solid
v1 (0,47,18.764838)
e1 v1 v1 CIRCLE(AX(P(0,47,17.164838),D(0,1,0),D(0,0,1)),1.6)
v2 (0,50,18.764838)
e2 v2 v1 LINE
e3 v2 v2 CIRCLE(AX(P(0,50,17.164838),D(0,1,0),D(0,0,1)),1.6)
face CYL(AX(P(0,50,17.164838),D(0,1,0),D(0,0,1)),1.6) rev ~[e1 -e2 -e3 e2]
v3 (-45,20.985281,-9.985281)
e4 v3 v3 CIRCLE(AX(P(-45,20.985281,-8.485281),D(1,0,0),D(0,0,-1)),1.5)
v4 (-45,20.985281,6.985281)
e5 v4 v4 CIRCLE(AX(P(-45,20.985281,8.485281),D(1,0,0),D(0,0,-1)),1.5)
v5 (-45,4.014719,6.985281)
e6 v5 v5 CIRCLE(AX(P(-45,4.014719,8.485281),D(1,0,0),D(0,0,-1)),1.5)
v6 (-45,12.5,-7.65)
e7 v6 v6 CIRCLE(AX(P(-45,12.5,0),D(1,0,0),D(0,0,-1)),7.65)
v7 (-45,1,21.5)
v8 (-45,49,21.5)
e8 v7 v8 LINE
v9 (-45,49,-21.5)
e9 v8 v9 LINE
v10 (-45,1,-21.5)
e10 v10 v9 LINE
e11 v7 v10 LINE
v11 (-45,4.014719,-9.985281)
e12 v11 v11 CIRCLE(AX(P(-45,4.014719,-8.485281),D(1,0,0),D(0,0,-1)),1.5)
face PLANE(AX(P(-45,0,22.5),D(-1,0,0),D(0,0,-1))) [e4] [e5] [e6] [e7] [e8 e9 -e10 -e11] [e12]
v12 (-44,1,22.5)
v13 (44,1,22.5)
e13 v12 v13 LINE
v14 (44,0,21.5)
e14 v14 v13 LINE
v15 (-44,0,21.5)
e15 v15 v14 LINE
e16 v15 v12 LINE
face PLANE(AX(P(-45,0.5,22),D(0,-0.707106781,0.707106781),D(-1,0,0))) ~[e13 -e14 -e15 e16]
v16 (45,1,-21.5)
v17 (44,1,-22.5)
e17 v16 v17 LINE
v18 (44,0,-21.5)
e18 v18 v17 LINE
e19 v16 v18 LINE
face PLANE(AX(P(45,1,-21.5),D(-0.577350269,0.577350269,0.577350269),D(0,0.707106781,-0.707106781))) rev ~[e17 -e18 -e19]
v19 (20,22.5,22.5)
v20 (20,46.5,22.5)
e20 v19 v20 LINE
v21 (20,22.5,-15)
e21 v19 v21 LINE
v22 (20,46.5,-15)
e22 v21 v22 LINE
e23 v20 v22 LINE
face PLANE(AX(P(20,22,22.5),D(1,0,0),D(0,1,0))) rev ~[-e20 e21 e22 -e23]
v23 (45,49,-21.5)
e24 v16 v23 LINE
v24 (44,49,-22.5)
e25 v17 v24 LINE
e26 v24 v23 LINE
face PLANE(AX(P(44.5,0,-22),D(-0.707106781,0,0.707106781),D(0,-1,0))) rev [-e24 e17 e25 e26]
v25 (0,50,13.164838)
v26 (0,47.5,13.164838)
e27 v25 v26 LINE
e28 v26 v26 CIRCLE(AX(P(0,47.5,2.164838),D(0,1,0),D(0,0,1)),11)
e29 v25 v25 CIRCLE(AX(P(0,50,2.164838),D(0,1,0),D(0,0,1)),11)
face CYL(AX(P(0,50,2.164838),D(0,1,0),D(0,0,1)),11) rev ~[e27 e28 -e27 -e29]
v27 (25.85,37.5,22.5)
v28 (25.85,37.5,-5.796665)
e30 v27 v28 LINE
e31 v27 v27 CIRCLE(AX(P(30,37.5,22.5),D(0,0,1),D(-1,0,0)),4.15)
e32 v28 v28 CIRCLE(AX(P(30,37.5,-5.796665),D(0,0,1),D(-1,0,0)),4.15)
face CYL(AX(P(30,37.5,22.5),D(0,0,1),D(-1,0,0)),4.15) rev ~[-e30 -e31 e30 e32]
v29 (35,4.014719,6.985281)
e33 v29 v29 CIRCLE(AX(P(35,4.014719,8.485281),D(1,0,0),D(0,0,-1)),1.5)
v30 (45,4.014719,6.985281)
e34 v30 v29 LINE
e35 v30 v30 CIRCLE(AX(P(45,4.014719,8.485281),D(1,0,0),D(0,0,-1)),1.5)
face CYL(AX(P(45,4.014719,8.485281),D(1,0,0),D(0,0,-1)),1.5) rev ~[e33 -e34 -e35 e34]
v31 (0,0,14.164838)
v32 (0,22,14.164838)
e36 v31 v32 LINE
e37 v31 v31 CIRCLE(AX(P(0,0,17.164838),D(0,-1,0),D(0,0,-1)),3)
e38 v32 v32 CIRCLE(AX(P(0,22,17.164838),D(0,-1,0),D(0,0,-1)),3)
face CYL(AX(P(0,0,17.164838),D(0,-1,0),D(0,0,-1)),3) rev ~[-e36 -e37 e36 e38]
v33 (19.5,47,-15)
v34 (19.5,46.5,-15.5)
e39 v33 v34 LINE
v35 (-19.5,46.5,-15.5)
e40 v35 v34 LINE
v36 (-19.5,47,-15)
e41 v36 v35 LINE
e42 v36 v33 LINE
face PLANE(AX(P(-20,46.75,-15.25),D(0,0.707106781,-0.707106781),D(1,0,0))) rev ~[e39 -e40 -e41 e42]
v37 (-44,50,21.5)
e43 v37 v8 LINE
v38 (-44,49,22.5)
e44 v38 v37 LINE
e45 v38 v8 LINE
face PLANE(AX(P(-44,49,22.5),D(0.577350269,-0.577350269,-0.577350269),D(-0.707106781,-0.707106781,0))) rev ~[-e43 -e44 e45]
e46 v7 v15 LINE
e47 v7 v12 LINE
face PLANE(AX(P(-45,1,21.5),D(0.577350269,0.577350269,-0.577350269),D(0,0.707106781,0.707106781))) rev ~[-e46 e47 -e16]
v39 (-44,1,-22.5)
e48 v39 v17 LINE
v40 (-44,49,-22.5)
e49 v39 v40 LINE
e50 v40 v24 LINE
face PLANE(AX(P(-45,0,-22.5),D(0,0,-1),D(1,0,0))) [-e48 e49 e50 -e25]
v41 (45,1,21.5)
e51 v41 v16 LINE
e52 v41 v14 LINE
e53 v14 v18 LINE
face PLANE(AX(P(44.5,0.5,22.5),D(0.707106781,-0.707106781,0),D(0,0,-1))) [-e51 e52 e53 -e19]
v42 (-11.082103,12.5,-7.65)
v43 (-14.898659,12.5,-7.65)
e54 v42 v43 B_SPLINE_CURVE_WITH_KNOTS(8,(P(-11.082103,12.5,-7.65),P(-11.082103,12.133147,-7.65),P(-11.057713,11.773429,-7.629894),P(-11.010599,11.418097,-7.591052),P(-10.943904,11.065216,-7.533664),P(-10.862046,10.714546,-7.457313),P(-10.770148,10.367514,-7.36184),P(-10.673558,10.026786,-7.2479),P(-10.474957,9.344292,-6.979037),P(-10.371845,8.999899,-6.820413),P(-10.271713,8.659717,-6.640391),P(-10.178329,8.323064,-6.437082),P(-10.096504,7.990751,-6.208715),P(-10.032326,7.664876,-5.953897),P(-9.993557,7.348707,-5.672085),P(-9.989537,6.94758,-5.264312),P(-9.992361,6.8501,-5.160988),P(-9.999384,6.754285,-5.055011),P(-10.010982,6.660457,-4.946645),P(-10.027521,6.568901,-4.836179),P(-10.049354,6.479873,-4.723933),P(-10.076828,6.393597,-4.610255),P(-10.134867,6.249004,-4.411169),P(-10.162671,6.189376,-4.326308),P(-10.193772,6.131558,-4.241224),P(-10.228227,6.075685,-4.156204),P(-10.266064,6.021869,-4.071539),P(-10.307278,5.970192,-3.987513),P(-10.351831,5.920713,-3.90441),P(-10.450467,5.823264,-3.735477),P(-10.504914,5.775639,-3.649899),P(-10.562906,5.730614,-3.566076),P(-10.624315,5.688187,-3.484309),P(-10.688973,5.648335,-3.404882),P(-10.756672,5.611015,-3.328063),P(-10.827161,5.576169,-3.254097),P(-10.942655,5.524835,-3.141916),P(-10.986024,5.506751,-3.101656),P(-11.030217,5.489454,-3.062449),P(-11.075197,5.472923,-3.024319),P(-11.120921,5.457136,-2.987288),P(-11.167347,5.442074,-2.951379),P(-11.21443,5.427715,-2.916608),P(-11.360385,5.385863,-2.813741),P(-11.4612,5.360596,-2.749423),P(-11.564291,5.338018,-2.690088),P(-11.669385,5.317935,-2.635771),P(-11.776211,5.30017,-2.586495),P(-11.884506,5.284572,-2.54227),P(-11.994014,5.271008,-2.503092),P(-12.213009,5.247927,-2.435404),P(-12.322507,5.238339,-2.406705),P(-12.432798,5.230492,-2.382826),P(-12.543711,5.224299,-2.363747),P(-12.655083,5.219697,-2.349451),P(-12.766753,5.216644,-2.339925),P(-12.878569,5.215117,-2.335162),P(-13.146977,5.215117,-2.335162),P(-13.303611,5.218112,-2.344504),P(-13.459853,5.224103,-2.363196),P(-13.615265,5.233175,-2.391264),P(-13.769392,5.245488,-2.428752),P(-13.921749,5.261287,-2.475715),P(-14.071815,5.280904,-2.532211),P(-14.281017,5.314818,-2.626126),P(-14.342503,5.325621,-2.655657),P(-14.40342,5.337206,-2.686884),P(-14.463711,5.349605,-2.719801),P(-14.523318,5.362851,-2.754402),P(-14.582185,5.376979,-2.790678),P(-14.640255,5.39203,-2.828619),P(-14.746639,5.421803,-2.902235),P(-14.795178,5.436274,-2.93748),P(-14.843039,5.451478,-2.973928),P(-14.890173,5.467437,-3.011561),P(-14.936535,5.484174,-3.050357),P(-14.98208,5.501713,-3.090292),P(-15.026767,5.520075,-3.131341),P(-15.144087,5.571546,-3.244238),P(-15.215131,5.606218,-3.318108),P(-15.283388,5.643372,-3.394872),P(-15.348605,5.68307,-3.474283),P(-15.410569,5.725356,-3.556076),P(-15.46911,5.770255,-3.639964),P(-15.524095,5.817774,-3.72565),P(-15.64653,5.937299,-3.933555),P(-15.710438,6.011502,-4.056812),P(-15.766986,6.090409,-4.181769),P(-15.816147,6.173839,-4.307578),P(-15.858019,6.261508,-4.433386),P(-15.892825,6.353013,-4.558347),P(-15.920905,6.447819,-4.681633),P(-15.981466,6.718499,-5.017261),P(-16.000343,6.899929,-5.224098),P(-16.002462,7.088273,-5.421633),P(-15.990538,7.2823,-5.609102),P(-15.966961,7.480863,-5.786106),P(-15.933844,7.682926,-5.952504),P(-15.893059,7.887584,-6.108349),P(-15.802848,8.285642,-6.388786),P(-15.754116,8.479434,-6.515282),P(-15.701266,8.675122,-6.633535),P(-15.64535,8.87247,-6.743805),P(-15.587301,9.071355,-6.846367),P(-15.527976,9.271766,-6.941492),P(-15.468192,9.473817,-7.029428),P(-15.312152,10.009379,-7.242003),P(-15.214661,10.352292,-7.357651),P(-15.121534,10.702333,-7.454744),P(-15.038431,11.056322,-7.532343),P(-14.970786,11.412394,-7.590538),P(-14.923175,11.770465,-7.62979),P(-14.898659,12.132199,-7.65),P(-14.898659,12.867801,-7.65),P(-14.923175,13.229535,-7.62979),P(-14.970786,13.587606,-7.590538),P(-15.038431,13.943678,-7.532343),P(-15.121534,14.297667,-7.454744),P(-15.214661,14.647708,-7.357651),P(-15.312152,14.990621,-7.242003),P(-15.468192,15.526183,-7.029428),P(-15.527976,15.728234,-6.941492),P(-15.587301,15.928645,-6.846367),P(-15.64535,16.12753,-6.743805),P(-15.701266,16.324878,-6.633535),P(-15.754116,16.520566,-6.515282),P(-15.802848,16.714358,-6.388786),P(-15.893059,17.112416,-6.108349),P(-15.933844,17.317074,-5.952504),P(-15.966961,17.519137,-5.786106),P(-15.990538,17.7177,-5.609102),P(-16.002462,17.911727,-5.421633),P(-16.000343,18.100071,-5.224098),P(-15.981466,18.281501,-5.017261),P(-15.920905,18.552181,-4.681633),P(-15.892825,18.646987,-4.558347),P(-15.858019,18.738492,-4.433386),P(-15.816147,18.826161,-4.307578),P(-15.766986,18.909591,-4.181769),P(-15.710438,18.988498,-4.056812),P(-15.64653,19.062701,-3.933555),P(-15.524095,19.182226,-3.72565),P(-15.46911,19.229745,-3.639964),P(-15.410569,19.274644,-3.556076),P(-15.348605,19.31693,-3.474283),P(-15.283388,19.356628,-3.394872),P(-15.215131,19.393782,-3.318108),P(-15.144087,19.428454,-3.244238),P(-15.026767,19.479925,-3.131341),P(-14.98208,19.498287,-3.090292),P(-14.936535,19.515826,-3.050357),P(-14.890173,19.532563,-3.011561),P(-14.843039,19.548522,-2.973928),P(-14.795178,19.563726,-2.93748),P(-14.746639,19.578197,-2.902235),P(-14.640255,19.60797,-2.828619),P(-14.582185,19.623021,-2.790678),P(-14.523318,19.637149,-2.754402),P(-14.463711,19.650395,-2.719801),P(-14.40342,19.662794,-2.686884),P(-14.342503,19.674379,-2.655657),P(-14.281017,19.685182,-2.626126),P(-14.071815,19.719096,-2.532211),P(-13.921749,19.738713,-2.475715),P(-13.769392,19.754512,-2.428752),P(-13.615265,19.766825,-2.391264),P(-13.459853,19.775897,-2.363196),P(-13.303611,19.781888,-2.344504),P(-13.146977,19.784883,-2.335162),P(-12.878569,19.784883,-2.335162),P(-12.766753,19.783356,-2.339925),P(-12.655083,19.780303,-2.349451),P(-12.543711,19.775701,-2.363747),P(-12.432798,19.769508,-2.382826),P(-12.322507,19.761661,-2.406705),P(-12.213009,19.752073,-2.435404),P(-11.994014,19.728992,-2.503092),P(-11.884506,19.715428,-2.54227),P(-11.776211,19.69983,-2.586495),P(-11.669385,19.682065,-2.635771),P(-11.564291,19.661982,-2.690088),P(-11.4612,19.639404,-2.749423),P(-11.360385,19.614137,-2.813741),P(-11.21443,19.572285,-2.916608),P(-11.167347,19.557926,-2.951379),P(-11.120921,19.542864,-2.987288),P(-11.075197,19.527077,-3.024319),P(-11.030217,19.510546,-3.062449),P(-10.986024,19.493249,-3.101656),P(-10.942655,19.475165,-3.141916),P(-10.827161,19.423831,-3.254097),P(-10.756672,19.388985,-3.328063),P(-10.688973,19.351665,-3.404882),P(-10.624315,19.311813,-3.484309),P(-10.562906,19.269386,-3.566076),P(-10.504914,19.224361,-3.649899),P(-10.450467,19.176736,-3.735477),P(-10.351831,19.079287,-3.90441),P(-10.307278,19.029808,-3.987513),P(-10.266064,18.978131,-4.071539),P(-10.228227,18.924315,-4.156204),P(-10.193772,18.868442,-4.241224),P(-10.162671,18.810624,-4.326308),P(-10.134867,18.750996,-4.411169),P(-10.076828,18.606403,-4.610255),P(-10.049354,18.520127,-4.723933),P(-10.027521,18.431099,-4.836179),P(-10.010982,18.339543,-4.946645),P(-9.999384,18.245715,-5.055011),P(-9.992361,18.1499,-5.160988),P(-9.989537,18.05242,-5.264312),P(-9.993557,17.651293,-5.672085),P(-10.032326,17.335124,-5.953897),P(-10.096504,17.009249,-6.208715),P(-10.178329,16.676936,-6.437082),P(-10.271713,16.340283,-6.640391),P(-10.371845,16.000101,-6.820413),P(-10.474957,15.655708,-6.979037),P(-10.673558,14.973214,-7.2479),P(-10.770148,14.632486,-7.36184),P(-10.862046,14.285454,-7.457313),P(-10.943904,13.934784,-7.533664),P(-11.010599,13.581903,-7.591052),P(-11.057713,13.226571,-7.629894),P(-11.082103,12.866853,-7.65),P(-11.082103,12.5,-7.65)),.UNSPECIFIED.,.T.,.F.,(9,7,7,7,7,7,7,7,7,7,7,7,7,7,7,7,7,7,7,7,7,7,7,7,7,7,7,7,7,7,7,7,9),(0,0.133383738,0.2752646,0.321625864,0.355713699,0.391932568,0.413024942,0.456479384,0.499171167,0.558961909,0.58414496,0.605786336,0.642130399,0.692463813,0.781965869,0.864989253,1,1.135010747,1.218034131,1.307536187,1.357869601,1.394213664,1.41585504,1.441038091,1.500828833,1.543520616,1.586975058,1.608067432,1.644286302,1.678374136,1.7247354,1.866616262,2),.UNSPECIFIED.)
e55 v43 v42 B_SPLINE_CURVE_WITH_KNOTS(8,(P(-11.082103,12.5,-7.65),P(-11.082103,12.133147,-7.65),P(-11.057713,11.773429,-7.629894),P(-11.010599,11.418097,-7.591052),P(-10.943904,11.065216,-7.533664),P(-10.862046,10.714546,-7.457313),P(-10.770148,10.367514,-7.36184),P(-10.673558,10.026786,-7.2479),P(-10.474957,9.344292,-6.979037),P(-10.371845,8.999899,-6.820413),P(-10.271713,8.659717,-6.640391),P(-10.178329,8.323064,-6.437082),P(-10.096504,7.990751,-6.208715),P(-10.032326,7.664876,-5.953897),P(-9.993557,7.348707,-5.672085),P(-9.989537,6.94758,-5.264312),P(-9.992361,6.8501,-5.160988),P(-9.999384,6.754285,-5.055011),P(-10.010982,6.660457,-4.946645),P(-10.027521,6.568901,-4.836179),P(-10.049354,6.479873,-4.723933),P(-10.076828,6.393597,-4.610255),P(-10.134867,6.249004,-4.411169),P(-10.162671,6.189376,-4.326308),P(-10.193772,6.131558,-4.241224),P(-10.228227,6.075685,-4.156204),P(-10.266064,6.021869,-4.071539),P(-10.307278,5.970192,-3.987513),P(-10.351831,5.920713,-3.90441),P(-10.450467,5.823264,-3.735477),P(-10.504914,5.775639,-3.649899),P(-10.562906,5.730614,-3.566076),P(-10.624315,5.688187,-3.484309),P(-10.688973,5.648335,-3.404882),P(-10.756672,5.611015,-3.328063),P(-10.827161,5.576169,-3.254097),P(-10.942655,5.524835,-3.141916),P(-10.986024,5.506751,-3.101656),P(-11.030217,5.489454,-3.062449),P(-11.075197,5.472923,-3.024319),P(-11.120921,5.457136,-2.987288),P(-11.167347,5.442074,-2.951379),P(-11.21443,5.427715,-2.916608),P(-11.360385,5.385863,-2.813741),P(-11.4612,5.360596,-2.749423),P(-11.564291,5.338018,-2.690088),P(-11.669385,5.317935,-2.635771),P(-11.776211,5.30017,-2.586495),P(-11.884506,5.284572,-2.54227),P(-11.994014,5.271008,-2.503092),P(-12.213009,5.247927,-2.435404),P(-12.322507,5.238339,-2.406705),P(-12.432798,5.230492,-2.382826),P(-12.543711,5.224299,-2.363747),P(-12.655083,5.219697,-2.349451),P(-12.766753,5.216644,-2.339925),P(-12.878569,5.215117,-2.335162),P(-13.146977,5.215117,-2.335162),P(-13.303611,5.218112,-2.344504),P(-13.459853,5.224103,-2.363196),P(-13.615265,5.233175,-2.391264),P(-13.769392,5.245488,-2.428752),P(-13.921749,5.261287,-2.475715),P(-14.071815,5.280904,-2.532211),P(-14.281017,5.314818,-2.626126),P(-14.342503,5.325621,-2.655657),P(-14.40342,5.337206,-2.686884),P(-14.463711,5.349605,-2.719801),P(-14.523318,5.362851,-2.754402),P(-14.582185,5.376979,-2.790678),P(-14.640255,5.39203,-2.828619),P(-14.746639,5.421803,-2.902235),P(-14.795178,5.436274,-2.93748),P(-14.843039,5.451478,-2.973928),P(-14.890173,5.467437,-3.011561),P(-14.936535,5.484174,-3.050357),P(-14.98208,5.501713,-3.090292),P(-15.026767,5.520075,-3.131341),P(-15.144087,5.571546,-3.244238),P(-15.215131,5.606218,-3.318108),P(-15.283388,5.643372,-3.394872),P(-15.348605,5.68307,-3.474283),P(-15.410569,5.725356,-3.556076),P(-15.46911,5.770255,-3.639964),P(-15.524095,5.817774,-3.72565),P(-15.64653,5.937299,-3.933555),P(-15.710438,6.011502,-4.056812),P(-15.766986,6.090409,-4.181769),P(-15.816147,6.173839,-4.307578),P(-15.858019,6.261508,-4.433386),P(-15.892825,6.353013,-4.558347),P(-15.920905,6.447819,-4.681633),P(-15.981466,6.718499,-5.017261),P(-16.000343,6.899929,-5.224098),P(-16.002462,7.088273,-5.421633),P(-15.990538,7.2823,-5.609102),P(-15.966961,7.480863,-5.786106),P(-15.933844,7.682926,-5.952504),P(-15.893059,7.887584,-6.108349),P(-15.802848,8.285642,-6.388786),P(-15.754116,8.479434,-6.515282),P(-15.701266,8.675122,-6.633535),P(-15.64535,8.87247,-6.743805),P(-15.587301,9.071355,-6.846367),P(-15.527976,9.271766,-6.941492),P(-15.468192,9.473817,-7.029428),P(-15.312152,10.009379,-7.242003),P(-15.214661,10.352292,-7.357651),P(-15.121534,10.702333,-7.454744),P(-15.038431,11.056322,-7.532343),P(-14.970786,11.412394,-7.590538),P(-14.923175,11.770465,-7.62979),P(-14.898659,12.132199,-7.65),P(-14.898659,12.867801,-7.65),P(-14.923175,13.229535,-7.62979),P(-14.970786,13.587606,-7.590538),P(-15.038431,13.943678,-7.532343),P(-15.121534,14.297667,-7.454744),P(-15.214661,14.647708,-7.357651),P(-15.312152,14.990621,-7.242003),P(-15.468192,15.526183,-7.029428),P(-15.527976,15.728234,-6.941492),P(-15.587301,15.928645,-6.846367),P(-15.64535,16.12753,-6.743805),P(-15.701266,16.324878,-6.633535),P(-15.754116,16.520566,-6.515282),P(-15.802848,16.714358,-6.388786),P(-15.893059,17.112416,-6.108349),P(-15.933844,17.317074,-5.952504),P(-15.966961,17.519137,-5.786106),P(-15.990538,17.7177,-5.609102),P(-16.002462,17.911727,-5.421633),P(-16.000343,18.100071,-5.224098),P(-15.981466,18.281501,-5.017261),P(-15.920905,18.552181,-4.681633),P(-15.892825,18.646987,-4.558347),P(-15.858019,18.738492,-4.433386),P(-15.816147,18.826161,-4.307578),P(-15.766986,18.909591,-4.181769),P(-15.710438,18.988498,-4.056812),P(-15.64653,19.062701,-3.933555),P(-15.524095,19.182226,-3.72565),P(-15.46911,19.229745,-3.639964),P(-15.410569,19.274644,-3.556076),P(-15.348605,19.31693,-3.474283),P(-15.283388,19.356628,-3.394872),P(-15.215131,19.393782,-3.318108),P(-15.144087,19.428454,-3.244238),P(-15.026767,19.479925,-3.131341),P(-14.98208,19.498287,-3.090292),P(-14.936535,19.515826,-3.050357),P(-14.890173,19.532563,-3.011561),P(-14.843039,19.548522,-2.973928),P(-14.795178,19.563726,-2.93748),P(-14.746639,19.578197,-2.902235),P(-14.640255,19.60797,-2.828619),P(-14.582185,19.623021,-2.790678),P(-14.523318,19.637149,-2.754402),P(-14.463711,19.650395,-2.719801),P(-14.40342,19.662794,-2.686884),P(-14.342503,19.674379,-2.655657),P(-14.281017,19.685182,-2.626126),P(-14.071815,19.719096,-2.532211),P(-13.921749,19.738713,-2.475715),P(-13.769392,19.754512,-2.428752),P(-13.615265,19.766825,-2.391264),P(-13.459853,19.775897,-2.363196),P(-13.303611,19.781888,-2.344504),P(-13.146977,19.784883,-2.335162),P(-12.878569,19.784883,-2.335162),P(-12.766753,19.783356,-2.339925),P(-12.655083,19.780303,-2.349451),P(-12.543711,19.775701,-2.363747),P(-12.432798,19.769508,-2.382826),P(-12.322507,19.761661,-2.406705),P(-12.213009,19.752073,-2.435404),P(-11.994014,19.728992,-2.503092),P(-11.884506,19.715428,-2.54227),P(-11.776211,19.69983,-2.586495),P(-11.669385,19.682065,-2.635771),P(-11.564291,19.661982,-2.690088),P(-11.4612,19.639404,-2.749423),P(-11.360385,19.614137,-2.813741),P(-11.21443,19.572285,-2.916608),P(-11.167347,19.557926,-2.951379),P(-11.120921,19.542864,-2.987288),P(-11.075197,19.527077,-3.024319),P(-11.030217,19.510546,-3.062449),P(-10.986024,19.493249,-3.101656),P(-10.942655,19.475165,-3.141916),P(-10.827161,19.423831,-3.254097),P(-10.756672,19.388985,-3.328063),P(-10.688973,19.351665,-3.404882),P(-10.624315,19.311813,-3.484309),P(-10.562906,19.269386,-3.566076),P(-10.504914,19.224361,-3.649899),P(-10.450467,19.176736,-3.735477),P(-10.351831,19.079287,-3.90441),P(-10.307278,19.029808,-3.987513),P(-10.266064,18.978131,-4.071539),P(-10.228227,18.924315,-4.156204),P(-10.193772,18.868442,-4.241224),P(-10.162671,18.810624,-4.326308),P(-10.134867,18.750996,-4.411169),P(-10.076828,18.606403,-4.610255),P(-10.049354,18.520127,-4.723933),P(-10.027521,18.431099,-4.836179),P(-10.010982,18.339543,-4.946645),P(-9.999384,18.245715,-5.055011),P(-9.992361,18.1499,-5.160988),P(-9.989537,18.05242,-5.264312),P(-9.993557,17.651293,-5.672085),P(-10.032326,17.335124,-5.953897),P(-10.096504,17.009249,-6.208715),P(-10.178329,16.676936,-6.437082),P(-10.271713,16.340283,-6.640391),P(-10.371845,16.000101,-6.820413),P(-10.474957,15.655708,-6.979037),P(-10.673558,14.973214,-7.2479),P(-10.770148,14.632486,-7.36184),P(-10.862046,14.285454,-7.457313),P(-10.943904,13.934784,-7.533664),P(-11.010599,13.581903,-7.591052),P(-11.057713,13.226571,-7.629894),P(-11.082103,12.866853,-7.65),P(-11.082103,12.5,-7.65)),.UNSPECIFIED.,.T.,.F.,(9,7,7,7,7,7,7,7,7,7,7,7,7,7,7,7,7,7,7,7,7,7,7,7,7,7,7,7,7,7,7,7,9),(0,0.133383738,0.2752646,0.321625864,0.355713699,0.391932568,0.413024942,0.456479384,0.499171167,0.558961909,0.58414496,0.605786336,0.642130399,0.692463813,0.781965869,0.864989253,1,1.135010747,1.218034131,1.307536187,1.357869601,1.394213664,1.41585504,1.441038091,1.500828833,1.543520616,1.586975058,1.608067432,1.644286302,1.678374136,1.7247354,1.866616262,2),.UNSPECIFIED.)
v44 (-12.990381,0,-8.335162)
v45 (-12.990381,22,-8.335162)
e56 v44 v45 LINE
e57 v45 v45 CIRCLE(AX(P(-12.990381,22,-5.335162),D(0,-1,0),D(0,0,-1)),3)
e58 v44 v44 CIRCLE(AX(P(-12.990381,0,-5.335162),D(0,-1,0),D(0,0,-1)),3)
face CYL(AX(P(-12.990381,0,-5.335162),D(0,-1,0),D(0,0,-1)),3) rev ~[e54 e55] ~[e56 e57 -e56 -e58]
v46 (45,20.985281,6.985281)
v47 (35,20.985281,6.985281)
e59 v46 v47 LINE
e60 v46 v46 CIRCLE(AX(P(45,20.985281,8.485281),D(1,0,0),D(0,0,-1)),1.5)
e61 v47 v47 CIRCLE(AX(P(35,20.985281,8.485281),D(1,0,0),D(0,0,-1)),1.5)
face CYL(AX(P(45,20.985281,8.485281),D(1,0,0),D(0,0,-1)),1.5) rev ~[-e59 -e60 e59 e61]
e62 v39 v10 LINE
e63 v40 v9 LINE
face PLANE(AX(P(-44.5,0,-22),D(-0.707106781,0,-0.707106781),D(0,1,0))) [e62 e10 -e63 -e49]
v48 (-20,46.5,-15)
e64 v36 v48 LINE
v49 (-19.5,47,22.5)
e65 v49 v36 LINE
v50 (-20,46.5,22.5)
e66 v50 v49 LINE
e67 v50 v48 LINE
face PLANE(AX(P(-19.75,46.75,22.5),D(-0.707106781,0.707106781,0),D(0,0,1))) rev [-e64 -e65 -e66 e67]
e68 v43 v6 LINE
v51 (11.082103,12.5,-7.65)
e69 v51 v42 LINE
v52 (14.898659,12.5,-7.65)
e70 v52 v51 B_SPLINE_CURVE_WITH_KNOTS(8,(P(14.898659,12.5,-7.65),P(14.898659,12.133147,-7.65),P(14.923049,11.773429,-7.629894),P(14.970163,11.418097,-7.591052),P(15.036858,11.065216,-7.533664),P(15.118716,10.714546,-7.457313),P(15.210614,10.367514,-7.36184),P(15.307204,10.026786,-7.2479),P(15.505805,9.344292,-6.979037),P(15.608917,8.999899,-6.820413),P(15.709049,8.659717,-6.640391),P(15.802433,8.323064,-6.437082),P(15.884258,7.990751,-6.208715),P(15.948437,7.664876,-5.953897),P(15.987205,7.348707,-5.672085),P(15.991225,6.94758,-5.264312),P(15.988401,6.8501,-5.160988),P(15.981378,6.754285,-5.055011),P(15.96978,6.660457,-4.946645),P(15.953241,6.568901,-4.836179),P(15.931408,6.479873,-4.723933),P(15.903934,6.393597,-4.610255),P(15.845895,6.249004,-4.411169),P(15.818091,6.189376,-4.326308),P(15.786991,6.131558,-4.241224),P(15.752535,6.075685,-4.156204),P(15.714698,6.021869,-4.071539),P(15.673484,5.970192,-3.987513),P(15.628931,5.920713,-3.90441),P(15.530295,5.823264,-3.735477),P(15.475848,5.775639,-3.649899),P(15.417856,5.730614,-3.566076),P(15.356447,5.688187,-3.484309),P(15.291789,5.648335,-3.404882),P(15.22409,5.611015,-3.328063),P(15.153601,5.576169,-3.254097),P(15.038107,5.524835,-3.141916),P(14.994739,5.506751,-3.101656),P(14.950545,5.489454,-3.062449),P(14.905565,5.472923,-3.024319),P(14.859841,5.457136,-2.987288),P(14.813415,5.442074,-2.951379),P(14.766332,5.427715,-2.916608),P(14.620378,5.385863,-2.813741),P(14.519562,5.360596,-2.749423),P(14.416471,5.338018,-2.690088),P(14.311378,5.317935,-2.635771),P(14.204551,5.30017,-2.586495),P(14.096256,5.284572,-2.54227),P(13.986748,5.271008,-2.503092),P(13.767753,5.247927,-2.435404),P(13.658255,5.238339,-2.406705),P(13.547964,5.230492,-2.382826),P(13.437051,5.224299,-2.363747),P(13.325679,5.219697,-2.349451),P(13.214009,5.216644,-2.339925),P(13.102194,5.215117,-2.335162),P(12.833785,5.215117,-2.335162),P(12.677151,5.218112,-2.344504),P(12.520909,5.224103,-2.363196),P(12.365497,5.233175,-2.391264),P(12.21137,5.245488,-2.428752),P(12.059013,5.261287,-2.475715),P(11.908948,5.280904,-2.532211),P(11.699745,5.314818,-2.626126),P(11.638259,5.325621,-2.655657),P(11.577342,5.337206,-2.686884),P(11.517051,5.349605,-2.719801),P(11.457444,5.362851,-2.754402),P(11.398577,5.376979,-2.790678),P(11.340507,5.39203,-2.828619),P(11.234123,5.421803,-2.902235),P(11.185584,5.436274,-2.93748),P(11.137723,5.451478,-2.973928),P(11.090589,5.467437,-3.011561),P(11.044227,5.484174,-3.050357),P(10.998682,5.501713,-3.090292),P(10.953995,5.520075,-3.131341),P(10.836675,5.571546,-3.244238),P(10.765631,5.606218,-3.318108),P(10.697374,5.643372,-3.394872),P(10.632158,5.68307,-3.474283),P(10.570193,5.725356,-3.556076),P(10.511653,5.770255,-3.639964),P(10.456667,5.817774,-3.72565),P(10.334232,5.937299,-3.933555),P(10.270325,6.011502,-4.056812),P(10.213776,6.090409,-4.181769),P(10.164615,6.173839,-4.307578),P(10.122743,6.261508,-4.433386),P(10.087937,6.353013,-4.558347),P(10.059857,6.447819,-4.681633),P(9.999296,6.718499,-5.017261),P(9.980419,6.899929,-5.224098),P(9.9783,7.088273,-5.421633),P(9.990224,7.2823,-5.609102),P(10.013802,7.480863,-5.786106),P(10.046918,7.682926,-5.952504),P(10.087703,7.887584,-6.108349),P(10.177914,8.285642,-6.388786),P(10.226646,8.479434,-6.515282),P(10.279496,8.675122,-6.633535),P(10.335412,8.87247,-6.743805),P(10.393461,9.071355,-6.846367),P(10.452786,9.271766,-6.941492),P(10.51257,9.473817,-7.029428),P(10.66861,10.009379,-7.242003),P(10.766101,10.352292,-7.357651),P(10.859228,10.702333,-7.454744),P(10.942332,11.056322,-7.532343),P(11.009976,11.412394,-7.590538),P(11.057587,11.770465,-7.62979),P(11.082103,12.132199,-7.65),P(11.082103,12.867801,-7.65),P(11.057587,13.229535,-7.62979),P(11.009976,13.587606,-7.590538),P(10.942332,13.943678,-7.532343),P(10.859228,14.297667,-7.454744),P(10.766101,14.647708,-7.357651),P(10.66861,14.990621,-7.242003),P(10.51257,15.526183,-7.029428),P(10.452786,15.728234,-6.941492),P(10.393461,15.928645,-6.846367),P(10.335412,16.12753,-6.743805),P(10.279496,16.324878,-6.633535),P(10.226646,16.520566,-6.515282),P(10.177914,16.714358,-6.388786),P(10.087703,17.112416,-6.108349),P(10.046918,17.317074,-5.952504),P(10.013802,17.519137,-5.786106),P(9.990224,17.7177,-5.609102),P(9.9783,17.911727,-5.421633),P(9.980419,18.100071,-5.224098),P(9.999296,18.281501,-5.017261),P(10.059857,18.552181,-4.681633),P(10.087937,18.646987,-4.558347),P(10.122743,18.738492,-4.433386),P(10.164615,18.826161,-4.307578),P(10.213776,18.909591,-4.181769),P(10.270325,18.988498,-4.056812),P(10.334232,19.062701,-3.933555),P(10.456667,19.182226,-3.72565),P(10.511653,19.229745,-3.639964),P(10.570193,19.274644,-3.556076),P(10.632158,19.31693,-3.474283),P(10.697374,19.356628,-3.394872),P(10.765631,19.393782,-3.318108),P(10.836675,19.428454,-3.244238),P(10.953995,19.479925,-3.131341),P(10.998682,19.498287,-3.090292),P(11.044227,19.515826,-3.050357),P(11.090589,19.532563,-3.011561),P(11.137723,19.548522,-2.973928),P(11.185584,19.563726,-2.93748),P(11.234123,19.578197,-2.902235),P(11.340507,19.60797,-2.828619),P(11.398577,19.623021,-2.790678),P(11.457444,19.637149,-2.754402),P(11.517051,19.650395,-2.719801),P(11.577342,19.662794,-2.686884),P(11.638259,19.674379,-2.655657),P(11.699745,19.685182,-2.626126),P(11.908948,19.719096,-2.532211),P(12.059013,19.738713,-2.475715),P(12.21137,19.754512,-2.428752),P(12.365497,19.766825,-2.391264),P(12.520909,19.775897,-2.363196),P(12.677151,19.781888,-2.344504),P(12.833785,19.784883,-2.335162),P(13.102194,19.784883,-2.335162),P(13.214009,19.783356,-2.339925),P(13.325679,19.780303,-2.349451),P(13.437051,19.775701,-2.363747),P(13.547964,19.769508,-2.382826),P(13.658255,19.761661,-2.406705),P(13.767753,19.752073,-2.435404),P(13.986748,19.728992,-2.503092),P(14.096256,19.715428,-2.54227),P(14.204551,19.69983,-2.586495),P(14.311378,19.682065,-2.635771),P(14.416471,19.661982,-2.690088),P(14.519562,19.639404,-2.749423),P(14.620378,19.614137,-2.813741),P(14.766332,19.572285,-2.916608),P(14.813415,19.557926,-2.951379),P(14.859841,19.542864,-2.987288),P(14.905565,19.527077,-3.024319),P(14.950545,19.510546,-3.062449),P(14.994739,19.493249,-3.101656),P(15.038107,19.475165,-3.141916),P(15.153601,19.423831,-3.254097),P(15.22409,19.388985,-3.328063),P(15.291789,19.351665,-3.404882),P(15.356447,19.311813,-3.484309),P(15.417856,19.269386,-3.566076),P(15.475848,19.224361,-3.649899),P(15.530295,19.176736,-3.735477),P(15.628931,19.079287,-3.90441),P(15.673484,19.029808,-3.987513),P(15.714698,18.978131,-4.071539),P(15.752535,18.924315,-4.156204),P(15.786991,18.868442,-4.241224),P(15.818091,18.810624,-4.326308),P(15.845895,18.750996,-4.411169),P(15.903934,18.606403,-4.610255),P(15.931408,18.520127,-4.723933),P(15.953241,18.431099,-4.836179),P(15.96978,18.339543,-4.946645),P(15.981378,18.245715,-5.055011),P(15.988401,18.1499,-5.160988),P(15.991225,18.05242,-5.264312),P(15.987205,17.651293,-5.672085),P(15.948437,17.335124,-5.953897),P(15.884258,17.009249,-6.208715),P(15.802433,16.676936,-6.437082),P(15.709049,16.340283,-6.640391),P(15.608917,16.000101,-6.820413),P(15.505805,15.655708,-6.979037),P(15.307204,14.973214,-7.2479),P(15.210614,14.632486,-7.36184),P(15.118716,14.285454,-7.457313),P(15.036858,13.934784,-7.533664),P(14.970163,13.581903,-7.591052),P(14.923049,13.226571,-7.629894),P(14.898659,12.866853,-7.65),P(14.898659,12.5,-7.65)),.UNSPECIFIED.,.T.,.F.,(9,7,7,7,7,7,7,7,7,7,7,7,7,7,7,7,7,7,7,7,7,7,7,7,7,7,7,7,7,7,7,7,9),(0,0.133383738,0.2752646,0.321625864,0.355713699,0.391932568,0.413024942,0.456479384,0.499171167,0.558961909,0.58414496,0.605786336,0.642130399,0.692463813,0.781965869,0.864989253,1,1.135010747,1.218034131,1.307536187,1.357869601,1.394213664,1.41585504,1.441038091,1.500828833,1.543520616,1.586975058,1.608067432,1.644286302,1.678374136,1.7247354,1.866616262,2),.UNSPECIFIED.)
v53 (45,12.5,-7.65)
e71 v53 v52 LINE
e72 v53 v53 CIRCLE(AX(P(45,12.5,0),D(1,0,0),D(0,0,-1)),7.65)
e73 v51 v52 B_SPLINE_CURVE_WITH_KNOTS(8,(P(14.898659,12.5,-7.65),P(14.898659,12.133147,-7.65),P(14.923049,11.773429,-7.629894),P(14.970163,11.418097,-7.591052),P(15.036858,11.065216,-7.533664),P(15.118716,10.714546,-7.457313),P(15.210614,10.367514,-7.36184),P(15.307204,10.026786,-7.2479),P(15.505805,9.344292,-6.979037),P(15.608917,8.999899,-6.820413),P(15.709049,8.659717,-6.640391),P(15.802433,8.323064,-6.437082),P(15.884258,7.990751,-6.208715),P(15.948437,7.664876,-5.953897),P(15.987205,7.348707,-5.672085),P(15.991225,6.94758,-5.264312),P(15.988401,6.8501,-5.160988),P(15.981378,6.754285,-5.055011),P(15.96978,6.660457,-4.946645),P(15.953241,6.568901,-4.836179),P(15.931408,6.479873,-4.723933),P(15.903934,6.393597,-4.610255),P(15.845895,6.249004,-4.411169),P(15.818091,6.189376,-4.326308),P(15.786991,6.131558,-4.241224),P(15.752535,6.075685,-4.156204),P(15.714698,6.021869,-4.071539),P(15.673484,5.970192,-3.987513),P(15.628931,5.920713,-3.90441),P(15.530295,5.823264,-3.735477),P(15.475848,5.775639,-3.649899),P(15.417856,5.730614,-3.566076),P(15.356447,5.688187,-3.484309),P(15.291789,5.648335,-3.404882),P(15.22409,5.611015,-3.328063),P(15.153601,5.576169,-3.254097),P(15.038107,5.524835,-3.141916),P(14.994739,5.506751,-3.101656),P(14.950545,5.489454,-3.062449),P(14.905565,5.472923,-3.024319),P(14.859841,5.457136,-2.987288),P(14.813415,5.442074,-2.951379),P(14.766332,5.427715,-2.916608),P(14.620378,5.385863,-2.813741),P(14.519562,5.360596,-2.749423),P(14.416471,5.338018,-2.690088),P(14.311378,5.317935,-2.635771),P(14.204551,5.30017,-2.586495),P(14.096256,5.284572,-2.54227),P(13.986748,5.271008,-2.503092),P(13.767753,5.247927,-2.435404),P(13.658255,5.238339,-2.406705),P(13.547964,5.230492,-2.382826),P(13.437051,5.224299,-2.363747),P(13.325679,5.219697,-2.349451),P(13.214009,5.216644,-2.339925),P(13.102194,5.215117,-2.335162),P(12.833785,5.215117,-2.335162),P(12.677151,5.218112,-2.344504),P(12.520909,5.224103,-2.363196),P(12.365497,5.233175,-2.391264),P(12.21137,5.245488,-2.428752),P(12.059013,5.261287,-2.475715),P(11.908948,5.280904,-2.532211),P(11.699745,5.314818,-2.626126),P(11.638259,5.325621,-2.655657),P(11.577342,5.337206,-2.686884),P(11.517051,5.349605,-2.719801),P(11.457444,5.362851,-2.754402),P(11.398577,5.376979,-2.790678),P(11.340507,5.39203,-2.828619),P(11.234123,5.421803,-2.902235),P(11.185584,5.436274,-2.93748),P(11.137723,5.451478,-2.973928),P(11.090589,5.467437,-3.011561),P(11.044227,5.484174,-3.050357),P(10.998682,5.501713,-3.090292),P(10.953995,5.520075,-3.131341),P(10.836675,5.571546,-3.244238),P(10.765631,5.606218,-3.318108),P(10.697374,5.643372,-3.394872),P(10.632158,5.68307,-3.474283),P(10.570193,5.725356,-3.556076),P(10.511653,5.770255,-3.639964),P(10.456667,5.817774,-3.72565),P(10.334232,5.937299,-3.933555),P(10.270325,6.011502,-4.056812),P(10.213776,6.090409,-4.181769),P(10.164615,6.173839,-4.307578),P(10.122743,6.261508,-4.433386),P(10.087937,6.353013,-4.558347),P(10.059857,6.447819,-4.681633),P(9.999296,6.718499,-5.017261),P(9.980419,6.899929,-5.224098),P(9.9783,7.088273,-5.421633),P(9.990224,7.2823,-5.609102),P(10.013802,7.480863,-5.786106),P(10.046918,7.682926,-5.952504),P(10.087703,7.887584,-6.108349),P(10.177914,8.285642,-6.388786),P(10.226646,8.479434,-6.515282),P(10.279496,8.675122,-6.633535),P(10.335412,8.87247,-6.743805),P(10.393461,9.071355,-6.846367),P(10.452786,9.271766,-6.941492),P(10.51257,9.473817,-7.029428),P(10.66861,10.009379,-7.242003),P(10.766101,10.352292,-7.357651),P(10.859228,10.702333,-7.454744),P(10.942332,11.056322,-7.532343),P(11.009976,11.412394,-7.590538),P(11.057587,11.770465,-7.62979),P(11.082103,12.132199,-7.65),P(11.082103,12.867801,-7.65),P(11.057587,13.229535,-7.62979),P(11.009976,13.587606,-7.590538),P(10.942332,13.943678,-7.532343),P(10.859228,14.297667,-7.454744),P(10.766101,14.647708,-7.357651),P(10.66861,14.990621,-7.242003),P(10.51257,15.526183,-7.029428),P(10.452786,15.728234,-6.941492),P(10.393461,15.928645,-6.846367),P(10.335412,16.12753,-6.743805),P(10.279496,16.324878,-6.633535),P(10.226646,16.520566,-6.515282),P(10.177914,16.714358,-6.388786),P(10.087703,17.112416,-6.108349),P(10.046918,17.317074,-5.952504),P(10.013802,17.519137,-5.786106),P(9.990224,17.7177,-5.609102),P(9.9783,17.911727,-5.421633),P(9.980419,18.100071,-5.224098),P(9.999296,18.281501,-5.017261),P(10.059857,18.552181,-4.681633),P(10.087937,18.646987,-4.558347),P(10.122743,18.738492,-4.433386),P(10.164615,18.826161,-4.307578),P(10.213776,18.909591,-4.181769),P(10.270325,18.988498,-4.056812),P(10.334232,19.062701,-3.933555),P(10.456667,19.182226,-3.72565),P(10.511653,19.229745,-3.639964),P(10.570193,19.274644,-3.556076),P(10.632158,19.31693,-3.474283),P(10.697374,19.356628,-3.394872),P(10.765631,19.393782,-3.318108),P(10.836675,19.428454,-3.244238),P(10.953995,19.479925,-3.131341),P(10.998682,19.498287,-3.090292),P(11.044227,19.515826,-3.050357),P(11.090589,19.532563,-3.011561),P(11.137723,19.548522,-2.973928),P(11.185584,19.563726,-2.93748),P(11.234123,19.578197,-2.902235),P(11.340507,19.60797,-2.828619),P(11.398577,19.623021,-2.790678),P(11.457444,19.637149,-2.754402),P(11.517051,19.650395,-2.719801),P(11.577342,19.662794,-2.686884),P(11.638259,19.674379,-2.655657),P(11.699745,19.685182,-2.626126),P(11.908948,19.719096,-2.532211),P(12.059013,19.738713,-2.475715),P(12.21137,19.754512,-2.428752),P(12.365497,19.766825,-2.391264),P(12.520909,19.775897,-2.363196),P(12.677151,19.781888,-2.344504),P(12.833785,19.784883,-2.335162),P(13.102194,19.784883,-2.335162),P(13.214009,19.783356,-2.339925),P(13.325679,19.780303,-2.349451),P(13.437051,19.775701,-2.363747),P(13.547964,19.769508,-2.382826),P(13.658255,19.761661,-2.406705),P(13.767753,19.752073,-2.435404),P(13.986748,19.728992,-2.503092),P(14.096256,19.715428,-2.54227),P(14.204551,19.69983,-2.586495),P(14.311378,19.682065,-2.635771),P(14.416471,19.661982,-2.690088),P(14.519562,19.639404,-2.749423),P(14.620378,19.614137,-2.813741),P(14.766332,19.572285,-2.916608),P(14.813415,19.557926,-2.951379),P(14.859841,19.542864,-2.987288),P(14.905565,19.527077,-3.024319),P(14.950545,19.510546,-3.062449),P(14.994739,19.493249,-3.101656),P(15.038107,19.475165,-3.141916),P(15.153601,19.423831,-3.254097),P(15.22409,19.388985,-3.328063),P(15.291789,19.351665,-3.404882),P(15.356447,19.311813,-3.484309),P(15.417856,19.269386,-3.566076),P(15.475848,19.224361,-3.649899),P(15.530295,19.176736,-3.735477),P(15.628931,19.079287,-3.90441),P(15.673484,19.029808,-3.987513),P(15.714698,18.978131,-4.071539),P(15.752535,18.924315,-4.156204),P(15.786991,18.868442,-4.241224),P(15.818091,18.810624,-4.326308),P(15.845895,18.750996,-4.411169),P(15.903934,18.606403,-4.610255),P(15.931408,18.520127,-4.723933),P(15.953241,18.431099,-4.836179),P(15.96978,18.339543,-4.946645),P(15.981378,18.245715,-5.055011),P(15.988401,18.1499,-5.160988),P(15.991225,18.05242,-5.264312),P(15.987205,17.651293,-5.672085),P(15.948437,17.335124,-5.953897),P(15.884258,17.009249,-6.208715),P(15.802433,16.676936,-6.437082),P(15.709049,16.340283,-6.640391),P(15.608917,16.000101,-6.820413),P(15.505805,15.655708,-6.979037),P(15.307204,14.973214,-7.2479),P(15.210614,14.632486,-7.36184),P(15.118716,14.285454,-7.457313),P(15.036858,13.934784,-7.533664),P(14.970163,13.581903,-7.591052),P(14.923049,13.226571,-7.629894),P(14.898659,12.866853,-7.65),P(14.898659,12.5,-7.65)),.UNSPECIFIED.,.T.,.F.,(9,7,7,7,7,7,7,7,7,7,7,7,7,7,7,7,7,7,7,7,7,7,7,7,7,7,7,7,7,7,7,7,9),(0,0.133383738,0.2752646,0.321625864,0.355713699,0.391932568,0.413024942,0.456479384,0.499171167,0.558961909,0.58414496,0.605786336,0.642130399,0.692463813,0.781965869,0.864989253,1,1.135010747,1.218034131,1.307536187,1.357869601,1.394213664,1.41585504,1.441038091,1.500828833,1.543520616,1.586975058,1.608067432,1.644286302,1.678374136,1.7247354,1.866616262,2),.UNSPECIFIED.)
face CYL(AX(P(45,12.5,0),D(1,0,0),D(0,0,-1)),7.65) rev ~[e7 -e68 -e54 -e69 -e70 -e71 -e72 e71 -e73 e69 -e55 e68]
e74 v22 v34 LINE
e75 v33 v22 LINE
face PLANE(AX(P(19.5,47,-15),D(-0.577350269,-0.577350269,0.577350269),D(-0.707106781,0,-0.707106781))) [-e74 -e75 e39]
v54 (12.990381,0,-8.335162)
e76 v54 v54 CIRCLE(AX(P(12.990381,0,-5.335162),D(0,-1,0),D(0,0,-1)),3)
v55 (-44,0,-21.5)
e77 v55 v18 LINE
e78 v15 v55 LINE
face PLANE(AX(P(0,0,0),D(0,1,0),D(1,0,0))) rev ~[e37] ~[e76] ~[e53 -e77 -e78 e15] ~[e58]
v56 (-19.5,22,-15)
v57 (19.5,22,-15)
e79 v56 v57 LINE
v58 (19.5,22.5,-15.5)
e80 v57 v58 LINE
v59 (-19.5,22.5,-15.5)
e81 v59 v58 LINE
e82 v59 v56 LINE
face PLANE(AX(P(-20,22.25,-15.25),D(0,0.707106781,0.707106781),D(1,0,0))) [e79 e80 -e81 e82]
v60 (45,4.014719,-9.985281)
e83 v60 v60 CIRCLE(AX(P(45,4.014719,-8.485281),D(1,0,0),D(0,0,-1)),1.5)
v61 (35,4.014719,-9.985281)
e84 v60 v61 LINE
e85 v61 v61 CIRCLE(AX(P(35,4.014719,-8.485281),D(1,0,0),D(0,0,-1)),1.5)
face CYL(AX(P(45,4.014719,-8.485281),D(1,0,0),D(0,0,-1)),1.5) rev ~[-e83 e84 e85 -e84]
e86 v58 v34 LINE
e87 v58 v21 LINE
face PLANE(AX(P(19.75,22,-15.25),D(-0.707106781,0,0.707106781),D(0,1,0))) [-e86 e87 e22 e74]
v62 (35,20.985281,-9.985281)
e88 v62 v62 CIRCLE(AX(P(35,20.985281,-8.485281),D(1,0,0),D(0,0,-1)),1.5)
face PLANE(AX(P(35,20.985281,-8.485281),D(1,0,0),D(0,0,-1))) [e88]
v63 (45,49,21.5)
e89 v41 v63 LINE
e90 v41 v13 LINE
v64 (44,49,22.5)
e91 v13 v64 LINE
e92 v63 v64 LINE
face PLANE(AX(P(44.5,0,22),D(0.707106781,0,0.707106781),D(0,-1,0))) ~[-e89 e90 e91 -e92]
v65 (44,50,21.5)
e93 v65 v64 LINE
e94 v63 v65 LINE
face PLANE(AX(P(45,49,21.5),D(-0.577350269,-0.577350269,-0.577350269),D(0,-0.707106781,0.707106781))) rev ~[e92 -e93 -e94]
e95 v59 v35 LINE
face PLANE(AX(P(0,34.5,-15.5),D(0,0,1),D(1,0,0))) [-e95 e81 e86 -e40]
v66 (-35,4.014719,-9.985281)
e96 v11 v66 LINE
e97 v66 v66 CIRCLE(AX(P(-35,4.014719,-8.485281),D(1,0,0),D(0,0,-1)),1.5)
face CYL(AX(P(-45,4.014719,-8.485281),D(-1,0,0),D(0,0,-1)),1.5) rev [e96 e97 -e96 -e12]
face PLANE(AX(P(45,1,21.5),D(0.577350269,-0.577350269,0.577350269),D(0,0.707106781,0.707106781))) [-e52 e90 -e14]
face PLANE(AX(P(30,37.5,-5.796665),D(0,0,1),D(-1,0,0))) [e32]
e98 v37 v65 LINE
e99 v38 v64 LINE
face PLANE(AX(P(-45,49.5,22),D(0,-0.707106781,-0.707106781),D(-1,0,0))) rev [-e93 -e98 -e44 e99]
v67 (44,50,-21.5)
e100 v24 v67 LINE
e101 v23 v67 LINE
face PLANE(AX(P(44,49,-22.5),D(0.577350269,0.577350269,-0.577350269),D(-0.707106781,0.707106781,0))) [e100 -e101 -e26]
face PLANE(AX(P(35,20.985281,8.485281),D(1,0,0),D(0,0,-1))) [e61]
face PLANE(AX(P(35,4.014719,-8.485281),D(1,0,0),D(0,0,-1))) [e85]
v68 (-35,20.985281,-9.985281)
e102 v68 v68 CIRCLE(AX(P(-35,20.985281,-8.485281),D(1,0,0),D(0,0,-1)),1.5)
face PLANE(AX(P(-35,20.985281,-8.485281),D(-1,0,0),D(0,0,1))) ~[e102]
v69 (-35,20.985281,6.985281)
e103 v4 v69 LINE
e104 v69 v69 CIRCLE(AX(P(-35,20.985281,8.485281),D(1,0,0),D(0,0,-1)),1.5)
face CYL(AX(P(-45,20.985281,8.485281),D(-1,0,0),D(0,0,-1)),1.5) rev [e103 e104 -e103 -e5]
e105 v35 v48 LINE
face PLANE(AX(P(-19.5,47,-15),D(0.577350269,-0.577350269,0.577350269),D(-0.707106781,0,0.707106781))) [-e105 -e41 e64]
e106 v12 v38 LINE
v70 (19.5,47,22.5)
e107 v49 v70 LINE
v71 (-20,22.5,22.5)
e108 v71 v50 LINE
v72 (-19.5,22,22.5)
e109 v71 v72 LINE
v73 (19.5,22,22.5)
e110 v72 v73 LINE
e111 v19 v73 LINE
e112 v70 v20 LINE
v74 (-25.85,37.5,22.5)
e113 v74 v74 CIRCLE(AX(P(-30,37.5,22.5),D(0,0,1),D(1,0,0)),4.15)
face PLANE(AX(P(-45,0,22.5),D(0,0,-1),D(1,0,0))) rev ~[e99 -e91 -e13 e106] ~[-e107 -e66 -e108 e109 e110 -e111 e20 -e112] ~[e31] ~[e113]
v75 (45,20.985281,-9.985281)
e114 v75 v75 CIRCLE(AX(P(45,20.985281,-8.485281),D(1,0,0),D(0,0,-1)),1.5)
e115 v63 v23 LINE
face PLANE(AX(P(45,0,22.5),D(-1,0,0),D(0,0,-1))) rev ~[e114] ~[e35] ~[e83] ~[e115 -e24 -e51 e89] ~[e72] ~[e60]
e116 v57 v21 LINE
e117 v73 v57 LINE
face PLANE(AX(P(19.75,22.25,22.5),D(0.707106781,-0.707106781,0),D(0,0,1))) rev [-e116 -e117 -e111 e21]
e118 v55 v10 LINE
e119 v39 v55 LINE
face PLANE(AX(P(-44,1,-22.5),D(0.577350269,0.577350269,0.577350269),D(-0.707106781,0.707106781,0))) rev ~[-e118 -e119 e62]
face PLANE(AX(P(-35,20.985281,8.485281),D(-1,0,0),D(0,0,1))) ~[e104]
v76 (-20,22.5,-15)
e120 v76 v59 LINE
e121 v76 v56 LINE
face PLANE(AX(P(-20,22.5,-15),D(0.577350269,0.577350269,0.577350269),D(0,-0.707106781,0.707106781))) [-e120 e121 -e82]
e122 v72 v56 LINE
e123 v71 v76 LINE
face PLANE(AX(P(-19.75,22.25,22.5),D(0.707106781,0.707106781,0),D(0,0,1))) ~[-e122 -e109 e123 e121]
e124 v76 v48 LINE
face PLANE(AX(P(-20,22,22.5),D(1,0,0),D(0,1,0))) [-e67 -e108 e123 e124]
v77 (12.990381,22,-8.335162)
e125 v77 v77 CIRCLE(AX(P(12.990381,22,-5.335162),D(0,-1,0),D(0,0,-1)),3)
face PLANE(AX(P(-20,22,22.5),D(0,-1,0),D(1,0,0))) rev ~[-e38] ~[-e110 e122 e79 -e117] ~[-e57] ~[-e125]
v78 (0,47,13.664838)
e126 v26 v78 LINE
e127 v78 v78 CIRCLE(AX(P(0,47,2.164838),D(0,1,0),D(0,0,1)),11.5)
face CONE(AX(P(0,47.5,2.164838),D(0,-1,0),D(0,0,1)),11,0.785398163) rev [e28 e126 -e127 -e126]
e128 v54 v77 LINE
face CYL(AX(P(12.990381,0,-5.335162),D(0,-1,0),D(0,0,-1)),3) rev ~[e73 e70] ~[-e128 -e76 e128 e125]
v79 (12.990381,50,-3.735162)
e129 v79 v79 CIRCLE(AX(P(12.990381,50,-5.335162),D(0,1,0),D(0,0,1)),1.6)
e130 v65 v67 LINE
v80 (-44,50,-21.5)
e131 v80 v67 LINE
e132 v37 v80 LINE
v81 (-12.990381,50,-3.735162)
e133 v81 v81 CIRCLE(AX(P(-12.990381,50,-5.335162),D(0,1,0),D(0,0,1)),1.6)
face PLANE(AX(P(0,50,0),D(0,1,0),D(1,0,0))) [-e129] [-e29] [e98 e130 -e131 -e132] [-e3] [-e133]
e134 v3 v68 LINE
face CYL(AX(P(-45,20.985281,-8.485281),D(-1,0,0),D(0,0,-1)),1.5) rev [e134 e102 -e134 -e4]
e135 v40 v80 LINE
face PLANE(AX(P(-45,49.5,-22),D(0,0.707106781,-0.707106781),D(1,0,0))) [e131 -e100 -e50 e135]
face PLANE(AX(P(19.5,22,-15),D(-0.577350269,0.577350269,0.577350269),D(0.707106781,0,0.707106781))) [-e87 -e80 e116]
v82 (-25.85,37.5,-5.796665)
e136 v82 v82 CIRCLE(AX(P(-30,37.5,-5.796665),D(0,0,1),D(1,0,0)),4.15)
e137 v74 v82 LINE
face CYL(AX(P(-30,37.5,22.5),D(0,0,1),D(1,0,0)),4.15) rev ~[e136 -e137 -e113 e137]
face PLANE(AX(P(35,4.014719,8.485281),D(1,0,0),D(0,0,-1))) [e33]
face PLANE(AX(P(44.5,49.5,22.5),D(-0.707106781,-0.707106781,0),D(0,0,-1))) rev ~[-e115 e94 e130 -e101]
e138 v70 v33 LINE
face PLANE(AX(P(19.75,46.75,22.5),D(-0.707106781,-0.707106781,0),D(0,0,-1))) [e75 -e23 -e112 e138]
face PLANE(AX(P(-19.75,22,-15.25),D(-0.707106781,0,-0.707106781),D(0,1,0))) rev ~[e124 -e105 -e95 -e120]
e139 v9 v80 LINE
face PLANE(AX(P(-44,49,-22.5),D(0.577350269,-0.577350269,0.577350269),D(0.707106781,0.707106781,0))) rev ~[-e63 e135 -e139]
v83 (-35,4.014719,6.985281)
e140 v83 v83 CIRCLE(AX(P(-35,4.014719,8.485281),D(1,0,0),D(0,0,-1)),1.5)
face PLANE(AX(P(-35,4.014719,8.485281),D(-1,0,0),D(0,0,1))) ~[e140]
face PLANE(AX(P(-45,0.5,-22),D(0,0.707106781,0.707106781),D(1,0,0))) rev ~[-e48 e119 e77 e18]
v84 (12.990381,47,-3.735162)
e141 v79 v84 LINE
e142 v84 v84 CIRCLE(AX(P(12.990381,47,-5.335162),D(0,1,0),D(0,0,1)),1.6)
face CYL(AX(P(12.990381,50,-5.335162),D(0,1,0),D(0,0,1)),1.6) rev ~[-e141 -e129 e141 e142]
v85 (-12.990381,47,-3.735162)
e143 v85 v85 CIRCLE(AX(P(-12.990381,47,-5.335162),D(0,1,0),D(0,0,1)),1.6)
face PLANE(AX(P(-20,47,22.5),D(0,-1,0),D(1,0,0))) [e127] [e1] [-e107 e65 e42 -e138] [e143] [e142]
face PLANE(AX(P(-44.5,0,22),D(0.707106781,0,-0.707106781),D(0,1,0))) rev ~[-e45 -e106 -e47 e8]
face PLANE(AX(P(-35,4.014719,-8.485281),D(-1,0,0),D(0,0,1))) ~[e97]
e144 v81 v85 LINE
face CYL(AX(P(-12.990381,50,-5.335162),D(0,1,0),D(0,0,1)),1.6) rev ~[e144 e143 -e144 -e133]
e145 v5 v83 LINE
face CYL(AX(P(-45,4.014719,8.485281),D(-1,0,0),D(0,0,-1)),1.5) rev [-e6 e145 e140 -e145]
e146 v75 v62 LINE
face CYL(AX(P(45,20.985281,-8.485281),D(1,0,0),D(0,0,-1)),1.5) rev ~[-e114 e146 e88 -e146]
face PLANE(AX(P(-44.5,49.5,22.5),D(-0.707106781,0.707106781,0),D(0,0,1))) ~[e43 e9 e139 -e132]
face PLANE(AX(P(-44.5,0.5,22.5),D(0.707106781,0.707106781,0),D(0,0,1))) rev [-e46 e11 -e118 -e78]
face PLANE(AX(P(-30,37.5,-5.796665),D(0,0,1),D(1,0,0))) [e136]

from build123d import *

# Parameters (mm, degrees)
SKETCH1_W           = 90
SKETCH1_H           = 45
BOSS_EXTRUDE1_DEPTH = 50
SKETCH2_R           = 4.15
CUT_EXTRUDE1_DEPTH  = 28.296664924
SKETCH3_R           = 7.65
CUT_EXTRUDE2_DEPTH  = 106.386194542
SKETCH4_R           = 1.5
CUT_EXTRUDE3_DEPTH  = 10
CHAMFER1_SIZE       = 1
SKETCH6_W           = 40
SKETCH6_H           = 25
CUT_EXTRUDE5_DEPTH  = 38
CUT_EXTRUDE4_REACH  = 72.931
SKETCH5_R           = 1.6
SKETCH5_R_2         = 11
CUT_EXTRUDE6_REACH  = 72.931
SKETCH8_R           = 3
CHAMFER2_SIZE       = 0.5


with BuildPart() as part:
    # Sketch1 → Boss-Extrude1 (new body)
    with BuildSketch(Plane(origin=(0, 0, 0), x_dir=(1, 0, 0), z_dir=(0, 1, 0))):
        Rectangle(SKETCH1_W, SKETCH1_H)
    extrude(amount=BOSS_EXTRUDE1_DEPTH)

    # Sketch2 → Cut-Extrude1 (cut)
    with BuildSketch(Plane.XY.offset(22.5)):
        with Locations((-30, 37.5)):
            Circle(SKETCH2_R)
        with Locations(Location((30, 37.5, 0), (0, 0, 180))):
            Circle(SKETCH2_R)
    extrude(amount=-CUT_EXTRUDE1_DEPTH, mode=Mode.SUBTRACT)

    # Sketch3 → Cut-Extrude2 (cut, through all)
    with BuildSketch(Plane(origin=(45, 0, 0), x_dir=(0, 0, -1), z_dir=(1, 0, 0))):
        with Locations((0, 12.5)):
            Circle(SKETCH3_R)
    extrude(amount=-CUT_EXTRUDE2_DEPTH, mode=Mode.SUBTRACT)

    # Sketch4 → Cut-Extrude3 (cut)
    with BuildSketch(Plane(origin=(45, 0, 0), x_dir=(0, 0, -1), z_dir=(1, 0, 0))):
        with Locations((-8.485281374, 20.985281374)):
            Circle(SKETCH4_R)
        with Locations((8.485281374, 20.985281374)):
            Circle(SKETCH4_R)
        with Locations((8.485281374, 4.014718626)):
            Circle(SKETCH4_R)
        with Locations((-8.485281374, 4.014718626)):
            Circle(SKETCH4_R)
    cut_extrude3 = extrude(amount=-CUT_EXTRUDE3_DEPTH, mode=Mode.SUBTRACT)

    # Mirror1: Cut-Extrude3 across plane
    add(cut_extrude3.mirror(Plane(origin=(0, 0, 0), x_dir=(0, 0, 1), z_dir=(1, 0, 0))), mode=Mode.SUBTRACT)

    # Chamfer1
    chamfer1_edges = [part.edges().sort_by_distance(p)[0] for p in [
        (-45, 50, 0),
        (0, 50, 22.5),
        (45, 50, 0),
        (0, 0, 22.5),
        (-45, 0, 0),
        (0, 0, -22.5),
        (45, 0, 0),
        (45, 25, 22.5),
        (-45, 25, 22.5),
        (-45, 25, -22.5),
        (45, 25, -22.5),
        (0, 50, -22.5),
    ]]
    chamfer(chamfer1_edges, length=CHAMFER1_SIZE)

    # Sketch6 → Cut-Extrude5 (cut)
    with BuildSketch(Plane.XY.offset(22.5)):
        with Locations((0, 34.5)):
            Rectangle(SKETCH6_W, SKETCH6_H)
    extrude(amount=-CUT_EXTRUDE5_DEPTH, mode=Mode.SUBTRACT)

    # Sketch5 → Cut-Extrude4 (cut, up to next)
    with BuildSketch(Plane(origin=(0, 50, 0), x_dir=(1, 0, 0), z_dir=(0, 1, 0)), mode=Mode.PRIVATE) as cut_extrude4_sk1:
        with Locations(Location((0, -17.164837936, 0), (0, 0, 270))):
            Circle(SKETCH5_R)
    cut_extrude4_tool1 = extrude(cut_extrude4_sk1.sketch, amount=-CUT_EXTRUDE4_REACH, mode=Mode.PRIVATE) & part.part
    # Sketch5 → Cut-Extrude4 (cut, up to next)
    with BuildSketch(Plane(origin=(0, 50, 0), x_dir=(1, 0, 0), z_dir=(0, 1, 0)), mode=Mode.PRIVATE) as cut_extrude4_sk2:
        with Locations(Location((-12.990381057, 5.335162064, 0), (0, 0, 270))):
            Circle(SKETCH5_R)
    cut_extrude4_tool2 = extrude(cut_extrude4_sk2.sketch, amount=-CUT_EXTRUDE4_REACH, mode=Mode.PRIVATE) & part.part
    # Sketch5 → Cut-Extrude4 (cut, up to next)
    with BuildSketch(Plane(origin=(0, 50, 0), x_dir=(1, 0, 0), z_dir=(0, 1, 0)), mode=Mode.PRIVATE) as cut_extrude4_sk3:
        with Locations(Location((12.990381057, 5.335162064, 0), (0, 0, 270))):
            Circle(SKETCH5_R)
    cut_extrude4_tool3 = extrude(cut_extrude4_sk3.sketch, amount=-CUT_EXTRUDE4_REACH, mode=Mode.PRIVATE) & part.part
    # Sketch5 → Cut-Extrude4 (cut, up to next)
    with BuildSketch(Plane(origin=(0, 50, 0), x_dir=(1, 0, 0), z_dir=(0, 1, 0)), mode=Mode.PRIVATE) as cut_extrude4_sk4:
        with Locations(Location((0, -2.164837936, 0), (0, 0, 270))):
            Circle(SKETCH5_R_2)
    cut_extrude4_tool4 = extrude(cut_extrude4_sk4.sketch, amount=-CUT_EXTRUDE4_REACH, mode=Mode.PRIVATE) & part.part
    add(cut_extrude4_tool1.solids().sort_by_distance((0, 50, 17.164838))[0], mode=Mode.SUBTRACT)
    add(cut_extrude4_tool2.solids().sort_by_distance((-12.990381, 50, -5.335162))[0], mode=Mode.SUBTRACT)
    add(cut_extrude4_tool3.solids().sort_by_distance((12.990381, 50, -5.335162))[0], mode=Mode.SUBTRACT)
    add(cut_extrude4_tool4.solids().sort_by_distance((0, 50, 2.164838))[0], mode=Mode.SUBTRACT)

    # Sketch8 → Cut-Extrude6 (cut, up to next)
    with BuildSketch(Plane.XZ, mode=Mode.PRIVATE) as cut_extrude6_sk1:
        with Locations(Location((0, 17.164837936, 0), (0, 0, 270))):
            Circle(SKETCH8_R)
    cut_extrude6_tool1 = extrude(cut_extrude6_sk1.sketch, amount=-CUT_EXTRUDE6_REACH, mode=Mode.PRIVATE) & part.part
    # Sketch8 → Cut-Extrude6 (cut, up to next)
    with BuildSketch(Plane.XZ, mode=Mode.PRIVATE) as cut_extrude6_sk2:
        with Locations(Location((12.990381057, -5.335162064, 0), (0, 0, 270))):
            Circle(SKETCH8_R)
    cut_extrude6_tool2 = extrude(cut_extrude6_sk2.sketch, amount=-CUT_EXTRUDE6_REACH, mode=Mode.PRIVATE) & part.part
    # Sketch8 → Cut-Extrude6 (cut, up to next)
    with BuildSketch(Plane.XZ, mode=Mode.PRIVATE) as cut_extrude6_sk3:
        with Locations(Location((-12.990381057, -5.335162064, 0), (0, 0, 270))):
            Circle(SKETCH8_R)
    cut_extrude6_tool3 = extrude(cut_extrude6_sk3.sketch, amount=-CUT_EXTRUDE6_REACH, mode=Mode.PRIVATE) & part.part
    add(cut_extrude6_tool1.solids().sort_by_distance((0, 0, 17.164838))[0], mode=Mode.SUBTRACT)
    add(cut_extrude6_tool2.solids().sort_by_distance((12.990381, 0, -5.335162))[0], mode=Mode.SUBTRACT)
    add(cut_extrude6_tool3.solids().sort_by_distance((-12.990381, 0, -5.335162))[0], mode=Mode.SUBTRACT)

    # Chamfer2
    chamfer2_edges = [part.edges().sort_by_distance(p)[0] for p in [
        (20, 34.5, -15.5),
        (20, 47, 3.5),
        (0, 22, -15.5),
        (20, 22, 3.5),
        (-20, 34.5, -15.5),
        (-20, 22, 3.5),
        (0, 47, -15.5),
        (-20, 47, 3.5),
        (0, 47, -8.835162064),
    ]]
    chamfer(chamfer2_edges, length=CHAMFER2_SIZE)


solid = part.part
